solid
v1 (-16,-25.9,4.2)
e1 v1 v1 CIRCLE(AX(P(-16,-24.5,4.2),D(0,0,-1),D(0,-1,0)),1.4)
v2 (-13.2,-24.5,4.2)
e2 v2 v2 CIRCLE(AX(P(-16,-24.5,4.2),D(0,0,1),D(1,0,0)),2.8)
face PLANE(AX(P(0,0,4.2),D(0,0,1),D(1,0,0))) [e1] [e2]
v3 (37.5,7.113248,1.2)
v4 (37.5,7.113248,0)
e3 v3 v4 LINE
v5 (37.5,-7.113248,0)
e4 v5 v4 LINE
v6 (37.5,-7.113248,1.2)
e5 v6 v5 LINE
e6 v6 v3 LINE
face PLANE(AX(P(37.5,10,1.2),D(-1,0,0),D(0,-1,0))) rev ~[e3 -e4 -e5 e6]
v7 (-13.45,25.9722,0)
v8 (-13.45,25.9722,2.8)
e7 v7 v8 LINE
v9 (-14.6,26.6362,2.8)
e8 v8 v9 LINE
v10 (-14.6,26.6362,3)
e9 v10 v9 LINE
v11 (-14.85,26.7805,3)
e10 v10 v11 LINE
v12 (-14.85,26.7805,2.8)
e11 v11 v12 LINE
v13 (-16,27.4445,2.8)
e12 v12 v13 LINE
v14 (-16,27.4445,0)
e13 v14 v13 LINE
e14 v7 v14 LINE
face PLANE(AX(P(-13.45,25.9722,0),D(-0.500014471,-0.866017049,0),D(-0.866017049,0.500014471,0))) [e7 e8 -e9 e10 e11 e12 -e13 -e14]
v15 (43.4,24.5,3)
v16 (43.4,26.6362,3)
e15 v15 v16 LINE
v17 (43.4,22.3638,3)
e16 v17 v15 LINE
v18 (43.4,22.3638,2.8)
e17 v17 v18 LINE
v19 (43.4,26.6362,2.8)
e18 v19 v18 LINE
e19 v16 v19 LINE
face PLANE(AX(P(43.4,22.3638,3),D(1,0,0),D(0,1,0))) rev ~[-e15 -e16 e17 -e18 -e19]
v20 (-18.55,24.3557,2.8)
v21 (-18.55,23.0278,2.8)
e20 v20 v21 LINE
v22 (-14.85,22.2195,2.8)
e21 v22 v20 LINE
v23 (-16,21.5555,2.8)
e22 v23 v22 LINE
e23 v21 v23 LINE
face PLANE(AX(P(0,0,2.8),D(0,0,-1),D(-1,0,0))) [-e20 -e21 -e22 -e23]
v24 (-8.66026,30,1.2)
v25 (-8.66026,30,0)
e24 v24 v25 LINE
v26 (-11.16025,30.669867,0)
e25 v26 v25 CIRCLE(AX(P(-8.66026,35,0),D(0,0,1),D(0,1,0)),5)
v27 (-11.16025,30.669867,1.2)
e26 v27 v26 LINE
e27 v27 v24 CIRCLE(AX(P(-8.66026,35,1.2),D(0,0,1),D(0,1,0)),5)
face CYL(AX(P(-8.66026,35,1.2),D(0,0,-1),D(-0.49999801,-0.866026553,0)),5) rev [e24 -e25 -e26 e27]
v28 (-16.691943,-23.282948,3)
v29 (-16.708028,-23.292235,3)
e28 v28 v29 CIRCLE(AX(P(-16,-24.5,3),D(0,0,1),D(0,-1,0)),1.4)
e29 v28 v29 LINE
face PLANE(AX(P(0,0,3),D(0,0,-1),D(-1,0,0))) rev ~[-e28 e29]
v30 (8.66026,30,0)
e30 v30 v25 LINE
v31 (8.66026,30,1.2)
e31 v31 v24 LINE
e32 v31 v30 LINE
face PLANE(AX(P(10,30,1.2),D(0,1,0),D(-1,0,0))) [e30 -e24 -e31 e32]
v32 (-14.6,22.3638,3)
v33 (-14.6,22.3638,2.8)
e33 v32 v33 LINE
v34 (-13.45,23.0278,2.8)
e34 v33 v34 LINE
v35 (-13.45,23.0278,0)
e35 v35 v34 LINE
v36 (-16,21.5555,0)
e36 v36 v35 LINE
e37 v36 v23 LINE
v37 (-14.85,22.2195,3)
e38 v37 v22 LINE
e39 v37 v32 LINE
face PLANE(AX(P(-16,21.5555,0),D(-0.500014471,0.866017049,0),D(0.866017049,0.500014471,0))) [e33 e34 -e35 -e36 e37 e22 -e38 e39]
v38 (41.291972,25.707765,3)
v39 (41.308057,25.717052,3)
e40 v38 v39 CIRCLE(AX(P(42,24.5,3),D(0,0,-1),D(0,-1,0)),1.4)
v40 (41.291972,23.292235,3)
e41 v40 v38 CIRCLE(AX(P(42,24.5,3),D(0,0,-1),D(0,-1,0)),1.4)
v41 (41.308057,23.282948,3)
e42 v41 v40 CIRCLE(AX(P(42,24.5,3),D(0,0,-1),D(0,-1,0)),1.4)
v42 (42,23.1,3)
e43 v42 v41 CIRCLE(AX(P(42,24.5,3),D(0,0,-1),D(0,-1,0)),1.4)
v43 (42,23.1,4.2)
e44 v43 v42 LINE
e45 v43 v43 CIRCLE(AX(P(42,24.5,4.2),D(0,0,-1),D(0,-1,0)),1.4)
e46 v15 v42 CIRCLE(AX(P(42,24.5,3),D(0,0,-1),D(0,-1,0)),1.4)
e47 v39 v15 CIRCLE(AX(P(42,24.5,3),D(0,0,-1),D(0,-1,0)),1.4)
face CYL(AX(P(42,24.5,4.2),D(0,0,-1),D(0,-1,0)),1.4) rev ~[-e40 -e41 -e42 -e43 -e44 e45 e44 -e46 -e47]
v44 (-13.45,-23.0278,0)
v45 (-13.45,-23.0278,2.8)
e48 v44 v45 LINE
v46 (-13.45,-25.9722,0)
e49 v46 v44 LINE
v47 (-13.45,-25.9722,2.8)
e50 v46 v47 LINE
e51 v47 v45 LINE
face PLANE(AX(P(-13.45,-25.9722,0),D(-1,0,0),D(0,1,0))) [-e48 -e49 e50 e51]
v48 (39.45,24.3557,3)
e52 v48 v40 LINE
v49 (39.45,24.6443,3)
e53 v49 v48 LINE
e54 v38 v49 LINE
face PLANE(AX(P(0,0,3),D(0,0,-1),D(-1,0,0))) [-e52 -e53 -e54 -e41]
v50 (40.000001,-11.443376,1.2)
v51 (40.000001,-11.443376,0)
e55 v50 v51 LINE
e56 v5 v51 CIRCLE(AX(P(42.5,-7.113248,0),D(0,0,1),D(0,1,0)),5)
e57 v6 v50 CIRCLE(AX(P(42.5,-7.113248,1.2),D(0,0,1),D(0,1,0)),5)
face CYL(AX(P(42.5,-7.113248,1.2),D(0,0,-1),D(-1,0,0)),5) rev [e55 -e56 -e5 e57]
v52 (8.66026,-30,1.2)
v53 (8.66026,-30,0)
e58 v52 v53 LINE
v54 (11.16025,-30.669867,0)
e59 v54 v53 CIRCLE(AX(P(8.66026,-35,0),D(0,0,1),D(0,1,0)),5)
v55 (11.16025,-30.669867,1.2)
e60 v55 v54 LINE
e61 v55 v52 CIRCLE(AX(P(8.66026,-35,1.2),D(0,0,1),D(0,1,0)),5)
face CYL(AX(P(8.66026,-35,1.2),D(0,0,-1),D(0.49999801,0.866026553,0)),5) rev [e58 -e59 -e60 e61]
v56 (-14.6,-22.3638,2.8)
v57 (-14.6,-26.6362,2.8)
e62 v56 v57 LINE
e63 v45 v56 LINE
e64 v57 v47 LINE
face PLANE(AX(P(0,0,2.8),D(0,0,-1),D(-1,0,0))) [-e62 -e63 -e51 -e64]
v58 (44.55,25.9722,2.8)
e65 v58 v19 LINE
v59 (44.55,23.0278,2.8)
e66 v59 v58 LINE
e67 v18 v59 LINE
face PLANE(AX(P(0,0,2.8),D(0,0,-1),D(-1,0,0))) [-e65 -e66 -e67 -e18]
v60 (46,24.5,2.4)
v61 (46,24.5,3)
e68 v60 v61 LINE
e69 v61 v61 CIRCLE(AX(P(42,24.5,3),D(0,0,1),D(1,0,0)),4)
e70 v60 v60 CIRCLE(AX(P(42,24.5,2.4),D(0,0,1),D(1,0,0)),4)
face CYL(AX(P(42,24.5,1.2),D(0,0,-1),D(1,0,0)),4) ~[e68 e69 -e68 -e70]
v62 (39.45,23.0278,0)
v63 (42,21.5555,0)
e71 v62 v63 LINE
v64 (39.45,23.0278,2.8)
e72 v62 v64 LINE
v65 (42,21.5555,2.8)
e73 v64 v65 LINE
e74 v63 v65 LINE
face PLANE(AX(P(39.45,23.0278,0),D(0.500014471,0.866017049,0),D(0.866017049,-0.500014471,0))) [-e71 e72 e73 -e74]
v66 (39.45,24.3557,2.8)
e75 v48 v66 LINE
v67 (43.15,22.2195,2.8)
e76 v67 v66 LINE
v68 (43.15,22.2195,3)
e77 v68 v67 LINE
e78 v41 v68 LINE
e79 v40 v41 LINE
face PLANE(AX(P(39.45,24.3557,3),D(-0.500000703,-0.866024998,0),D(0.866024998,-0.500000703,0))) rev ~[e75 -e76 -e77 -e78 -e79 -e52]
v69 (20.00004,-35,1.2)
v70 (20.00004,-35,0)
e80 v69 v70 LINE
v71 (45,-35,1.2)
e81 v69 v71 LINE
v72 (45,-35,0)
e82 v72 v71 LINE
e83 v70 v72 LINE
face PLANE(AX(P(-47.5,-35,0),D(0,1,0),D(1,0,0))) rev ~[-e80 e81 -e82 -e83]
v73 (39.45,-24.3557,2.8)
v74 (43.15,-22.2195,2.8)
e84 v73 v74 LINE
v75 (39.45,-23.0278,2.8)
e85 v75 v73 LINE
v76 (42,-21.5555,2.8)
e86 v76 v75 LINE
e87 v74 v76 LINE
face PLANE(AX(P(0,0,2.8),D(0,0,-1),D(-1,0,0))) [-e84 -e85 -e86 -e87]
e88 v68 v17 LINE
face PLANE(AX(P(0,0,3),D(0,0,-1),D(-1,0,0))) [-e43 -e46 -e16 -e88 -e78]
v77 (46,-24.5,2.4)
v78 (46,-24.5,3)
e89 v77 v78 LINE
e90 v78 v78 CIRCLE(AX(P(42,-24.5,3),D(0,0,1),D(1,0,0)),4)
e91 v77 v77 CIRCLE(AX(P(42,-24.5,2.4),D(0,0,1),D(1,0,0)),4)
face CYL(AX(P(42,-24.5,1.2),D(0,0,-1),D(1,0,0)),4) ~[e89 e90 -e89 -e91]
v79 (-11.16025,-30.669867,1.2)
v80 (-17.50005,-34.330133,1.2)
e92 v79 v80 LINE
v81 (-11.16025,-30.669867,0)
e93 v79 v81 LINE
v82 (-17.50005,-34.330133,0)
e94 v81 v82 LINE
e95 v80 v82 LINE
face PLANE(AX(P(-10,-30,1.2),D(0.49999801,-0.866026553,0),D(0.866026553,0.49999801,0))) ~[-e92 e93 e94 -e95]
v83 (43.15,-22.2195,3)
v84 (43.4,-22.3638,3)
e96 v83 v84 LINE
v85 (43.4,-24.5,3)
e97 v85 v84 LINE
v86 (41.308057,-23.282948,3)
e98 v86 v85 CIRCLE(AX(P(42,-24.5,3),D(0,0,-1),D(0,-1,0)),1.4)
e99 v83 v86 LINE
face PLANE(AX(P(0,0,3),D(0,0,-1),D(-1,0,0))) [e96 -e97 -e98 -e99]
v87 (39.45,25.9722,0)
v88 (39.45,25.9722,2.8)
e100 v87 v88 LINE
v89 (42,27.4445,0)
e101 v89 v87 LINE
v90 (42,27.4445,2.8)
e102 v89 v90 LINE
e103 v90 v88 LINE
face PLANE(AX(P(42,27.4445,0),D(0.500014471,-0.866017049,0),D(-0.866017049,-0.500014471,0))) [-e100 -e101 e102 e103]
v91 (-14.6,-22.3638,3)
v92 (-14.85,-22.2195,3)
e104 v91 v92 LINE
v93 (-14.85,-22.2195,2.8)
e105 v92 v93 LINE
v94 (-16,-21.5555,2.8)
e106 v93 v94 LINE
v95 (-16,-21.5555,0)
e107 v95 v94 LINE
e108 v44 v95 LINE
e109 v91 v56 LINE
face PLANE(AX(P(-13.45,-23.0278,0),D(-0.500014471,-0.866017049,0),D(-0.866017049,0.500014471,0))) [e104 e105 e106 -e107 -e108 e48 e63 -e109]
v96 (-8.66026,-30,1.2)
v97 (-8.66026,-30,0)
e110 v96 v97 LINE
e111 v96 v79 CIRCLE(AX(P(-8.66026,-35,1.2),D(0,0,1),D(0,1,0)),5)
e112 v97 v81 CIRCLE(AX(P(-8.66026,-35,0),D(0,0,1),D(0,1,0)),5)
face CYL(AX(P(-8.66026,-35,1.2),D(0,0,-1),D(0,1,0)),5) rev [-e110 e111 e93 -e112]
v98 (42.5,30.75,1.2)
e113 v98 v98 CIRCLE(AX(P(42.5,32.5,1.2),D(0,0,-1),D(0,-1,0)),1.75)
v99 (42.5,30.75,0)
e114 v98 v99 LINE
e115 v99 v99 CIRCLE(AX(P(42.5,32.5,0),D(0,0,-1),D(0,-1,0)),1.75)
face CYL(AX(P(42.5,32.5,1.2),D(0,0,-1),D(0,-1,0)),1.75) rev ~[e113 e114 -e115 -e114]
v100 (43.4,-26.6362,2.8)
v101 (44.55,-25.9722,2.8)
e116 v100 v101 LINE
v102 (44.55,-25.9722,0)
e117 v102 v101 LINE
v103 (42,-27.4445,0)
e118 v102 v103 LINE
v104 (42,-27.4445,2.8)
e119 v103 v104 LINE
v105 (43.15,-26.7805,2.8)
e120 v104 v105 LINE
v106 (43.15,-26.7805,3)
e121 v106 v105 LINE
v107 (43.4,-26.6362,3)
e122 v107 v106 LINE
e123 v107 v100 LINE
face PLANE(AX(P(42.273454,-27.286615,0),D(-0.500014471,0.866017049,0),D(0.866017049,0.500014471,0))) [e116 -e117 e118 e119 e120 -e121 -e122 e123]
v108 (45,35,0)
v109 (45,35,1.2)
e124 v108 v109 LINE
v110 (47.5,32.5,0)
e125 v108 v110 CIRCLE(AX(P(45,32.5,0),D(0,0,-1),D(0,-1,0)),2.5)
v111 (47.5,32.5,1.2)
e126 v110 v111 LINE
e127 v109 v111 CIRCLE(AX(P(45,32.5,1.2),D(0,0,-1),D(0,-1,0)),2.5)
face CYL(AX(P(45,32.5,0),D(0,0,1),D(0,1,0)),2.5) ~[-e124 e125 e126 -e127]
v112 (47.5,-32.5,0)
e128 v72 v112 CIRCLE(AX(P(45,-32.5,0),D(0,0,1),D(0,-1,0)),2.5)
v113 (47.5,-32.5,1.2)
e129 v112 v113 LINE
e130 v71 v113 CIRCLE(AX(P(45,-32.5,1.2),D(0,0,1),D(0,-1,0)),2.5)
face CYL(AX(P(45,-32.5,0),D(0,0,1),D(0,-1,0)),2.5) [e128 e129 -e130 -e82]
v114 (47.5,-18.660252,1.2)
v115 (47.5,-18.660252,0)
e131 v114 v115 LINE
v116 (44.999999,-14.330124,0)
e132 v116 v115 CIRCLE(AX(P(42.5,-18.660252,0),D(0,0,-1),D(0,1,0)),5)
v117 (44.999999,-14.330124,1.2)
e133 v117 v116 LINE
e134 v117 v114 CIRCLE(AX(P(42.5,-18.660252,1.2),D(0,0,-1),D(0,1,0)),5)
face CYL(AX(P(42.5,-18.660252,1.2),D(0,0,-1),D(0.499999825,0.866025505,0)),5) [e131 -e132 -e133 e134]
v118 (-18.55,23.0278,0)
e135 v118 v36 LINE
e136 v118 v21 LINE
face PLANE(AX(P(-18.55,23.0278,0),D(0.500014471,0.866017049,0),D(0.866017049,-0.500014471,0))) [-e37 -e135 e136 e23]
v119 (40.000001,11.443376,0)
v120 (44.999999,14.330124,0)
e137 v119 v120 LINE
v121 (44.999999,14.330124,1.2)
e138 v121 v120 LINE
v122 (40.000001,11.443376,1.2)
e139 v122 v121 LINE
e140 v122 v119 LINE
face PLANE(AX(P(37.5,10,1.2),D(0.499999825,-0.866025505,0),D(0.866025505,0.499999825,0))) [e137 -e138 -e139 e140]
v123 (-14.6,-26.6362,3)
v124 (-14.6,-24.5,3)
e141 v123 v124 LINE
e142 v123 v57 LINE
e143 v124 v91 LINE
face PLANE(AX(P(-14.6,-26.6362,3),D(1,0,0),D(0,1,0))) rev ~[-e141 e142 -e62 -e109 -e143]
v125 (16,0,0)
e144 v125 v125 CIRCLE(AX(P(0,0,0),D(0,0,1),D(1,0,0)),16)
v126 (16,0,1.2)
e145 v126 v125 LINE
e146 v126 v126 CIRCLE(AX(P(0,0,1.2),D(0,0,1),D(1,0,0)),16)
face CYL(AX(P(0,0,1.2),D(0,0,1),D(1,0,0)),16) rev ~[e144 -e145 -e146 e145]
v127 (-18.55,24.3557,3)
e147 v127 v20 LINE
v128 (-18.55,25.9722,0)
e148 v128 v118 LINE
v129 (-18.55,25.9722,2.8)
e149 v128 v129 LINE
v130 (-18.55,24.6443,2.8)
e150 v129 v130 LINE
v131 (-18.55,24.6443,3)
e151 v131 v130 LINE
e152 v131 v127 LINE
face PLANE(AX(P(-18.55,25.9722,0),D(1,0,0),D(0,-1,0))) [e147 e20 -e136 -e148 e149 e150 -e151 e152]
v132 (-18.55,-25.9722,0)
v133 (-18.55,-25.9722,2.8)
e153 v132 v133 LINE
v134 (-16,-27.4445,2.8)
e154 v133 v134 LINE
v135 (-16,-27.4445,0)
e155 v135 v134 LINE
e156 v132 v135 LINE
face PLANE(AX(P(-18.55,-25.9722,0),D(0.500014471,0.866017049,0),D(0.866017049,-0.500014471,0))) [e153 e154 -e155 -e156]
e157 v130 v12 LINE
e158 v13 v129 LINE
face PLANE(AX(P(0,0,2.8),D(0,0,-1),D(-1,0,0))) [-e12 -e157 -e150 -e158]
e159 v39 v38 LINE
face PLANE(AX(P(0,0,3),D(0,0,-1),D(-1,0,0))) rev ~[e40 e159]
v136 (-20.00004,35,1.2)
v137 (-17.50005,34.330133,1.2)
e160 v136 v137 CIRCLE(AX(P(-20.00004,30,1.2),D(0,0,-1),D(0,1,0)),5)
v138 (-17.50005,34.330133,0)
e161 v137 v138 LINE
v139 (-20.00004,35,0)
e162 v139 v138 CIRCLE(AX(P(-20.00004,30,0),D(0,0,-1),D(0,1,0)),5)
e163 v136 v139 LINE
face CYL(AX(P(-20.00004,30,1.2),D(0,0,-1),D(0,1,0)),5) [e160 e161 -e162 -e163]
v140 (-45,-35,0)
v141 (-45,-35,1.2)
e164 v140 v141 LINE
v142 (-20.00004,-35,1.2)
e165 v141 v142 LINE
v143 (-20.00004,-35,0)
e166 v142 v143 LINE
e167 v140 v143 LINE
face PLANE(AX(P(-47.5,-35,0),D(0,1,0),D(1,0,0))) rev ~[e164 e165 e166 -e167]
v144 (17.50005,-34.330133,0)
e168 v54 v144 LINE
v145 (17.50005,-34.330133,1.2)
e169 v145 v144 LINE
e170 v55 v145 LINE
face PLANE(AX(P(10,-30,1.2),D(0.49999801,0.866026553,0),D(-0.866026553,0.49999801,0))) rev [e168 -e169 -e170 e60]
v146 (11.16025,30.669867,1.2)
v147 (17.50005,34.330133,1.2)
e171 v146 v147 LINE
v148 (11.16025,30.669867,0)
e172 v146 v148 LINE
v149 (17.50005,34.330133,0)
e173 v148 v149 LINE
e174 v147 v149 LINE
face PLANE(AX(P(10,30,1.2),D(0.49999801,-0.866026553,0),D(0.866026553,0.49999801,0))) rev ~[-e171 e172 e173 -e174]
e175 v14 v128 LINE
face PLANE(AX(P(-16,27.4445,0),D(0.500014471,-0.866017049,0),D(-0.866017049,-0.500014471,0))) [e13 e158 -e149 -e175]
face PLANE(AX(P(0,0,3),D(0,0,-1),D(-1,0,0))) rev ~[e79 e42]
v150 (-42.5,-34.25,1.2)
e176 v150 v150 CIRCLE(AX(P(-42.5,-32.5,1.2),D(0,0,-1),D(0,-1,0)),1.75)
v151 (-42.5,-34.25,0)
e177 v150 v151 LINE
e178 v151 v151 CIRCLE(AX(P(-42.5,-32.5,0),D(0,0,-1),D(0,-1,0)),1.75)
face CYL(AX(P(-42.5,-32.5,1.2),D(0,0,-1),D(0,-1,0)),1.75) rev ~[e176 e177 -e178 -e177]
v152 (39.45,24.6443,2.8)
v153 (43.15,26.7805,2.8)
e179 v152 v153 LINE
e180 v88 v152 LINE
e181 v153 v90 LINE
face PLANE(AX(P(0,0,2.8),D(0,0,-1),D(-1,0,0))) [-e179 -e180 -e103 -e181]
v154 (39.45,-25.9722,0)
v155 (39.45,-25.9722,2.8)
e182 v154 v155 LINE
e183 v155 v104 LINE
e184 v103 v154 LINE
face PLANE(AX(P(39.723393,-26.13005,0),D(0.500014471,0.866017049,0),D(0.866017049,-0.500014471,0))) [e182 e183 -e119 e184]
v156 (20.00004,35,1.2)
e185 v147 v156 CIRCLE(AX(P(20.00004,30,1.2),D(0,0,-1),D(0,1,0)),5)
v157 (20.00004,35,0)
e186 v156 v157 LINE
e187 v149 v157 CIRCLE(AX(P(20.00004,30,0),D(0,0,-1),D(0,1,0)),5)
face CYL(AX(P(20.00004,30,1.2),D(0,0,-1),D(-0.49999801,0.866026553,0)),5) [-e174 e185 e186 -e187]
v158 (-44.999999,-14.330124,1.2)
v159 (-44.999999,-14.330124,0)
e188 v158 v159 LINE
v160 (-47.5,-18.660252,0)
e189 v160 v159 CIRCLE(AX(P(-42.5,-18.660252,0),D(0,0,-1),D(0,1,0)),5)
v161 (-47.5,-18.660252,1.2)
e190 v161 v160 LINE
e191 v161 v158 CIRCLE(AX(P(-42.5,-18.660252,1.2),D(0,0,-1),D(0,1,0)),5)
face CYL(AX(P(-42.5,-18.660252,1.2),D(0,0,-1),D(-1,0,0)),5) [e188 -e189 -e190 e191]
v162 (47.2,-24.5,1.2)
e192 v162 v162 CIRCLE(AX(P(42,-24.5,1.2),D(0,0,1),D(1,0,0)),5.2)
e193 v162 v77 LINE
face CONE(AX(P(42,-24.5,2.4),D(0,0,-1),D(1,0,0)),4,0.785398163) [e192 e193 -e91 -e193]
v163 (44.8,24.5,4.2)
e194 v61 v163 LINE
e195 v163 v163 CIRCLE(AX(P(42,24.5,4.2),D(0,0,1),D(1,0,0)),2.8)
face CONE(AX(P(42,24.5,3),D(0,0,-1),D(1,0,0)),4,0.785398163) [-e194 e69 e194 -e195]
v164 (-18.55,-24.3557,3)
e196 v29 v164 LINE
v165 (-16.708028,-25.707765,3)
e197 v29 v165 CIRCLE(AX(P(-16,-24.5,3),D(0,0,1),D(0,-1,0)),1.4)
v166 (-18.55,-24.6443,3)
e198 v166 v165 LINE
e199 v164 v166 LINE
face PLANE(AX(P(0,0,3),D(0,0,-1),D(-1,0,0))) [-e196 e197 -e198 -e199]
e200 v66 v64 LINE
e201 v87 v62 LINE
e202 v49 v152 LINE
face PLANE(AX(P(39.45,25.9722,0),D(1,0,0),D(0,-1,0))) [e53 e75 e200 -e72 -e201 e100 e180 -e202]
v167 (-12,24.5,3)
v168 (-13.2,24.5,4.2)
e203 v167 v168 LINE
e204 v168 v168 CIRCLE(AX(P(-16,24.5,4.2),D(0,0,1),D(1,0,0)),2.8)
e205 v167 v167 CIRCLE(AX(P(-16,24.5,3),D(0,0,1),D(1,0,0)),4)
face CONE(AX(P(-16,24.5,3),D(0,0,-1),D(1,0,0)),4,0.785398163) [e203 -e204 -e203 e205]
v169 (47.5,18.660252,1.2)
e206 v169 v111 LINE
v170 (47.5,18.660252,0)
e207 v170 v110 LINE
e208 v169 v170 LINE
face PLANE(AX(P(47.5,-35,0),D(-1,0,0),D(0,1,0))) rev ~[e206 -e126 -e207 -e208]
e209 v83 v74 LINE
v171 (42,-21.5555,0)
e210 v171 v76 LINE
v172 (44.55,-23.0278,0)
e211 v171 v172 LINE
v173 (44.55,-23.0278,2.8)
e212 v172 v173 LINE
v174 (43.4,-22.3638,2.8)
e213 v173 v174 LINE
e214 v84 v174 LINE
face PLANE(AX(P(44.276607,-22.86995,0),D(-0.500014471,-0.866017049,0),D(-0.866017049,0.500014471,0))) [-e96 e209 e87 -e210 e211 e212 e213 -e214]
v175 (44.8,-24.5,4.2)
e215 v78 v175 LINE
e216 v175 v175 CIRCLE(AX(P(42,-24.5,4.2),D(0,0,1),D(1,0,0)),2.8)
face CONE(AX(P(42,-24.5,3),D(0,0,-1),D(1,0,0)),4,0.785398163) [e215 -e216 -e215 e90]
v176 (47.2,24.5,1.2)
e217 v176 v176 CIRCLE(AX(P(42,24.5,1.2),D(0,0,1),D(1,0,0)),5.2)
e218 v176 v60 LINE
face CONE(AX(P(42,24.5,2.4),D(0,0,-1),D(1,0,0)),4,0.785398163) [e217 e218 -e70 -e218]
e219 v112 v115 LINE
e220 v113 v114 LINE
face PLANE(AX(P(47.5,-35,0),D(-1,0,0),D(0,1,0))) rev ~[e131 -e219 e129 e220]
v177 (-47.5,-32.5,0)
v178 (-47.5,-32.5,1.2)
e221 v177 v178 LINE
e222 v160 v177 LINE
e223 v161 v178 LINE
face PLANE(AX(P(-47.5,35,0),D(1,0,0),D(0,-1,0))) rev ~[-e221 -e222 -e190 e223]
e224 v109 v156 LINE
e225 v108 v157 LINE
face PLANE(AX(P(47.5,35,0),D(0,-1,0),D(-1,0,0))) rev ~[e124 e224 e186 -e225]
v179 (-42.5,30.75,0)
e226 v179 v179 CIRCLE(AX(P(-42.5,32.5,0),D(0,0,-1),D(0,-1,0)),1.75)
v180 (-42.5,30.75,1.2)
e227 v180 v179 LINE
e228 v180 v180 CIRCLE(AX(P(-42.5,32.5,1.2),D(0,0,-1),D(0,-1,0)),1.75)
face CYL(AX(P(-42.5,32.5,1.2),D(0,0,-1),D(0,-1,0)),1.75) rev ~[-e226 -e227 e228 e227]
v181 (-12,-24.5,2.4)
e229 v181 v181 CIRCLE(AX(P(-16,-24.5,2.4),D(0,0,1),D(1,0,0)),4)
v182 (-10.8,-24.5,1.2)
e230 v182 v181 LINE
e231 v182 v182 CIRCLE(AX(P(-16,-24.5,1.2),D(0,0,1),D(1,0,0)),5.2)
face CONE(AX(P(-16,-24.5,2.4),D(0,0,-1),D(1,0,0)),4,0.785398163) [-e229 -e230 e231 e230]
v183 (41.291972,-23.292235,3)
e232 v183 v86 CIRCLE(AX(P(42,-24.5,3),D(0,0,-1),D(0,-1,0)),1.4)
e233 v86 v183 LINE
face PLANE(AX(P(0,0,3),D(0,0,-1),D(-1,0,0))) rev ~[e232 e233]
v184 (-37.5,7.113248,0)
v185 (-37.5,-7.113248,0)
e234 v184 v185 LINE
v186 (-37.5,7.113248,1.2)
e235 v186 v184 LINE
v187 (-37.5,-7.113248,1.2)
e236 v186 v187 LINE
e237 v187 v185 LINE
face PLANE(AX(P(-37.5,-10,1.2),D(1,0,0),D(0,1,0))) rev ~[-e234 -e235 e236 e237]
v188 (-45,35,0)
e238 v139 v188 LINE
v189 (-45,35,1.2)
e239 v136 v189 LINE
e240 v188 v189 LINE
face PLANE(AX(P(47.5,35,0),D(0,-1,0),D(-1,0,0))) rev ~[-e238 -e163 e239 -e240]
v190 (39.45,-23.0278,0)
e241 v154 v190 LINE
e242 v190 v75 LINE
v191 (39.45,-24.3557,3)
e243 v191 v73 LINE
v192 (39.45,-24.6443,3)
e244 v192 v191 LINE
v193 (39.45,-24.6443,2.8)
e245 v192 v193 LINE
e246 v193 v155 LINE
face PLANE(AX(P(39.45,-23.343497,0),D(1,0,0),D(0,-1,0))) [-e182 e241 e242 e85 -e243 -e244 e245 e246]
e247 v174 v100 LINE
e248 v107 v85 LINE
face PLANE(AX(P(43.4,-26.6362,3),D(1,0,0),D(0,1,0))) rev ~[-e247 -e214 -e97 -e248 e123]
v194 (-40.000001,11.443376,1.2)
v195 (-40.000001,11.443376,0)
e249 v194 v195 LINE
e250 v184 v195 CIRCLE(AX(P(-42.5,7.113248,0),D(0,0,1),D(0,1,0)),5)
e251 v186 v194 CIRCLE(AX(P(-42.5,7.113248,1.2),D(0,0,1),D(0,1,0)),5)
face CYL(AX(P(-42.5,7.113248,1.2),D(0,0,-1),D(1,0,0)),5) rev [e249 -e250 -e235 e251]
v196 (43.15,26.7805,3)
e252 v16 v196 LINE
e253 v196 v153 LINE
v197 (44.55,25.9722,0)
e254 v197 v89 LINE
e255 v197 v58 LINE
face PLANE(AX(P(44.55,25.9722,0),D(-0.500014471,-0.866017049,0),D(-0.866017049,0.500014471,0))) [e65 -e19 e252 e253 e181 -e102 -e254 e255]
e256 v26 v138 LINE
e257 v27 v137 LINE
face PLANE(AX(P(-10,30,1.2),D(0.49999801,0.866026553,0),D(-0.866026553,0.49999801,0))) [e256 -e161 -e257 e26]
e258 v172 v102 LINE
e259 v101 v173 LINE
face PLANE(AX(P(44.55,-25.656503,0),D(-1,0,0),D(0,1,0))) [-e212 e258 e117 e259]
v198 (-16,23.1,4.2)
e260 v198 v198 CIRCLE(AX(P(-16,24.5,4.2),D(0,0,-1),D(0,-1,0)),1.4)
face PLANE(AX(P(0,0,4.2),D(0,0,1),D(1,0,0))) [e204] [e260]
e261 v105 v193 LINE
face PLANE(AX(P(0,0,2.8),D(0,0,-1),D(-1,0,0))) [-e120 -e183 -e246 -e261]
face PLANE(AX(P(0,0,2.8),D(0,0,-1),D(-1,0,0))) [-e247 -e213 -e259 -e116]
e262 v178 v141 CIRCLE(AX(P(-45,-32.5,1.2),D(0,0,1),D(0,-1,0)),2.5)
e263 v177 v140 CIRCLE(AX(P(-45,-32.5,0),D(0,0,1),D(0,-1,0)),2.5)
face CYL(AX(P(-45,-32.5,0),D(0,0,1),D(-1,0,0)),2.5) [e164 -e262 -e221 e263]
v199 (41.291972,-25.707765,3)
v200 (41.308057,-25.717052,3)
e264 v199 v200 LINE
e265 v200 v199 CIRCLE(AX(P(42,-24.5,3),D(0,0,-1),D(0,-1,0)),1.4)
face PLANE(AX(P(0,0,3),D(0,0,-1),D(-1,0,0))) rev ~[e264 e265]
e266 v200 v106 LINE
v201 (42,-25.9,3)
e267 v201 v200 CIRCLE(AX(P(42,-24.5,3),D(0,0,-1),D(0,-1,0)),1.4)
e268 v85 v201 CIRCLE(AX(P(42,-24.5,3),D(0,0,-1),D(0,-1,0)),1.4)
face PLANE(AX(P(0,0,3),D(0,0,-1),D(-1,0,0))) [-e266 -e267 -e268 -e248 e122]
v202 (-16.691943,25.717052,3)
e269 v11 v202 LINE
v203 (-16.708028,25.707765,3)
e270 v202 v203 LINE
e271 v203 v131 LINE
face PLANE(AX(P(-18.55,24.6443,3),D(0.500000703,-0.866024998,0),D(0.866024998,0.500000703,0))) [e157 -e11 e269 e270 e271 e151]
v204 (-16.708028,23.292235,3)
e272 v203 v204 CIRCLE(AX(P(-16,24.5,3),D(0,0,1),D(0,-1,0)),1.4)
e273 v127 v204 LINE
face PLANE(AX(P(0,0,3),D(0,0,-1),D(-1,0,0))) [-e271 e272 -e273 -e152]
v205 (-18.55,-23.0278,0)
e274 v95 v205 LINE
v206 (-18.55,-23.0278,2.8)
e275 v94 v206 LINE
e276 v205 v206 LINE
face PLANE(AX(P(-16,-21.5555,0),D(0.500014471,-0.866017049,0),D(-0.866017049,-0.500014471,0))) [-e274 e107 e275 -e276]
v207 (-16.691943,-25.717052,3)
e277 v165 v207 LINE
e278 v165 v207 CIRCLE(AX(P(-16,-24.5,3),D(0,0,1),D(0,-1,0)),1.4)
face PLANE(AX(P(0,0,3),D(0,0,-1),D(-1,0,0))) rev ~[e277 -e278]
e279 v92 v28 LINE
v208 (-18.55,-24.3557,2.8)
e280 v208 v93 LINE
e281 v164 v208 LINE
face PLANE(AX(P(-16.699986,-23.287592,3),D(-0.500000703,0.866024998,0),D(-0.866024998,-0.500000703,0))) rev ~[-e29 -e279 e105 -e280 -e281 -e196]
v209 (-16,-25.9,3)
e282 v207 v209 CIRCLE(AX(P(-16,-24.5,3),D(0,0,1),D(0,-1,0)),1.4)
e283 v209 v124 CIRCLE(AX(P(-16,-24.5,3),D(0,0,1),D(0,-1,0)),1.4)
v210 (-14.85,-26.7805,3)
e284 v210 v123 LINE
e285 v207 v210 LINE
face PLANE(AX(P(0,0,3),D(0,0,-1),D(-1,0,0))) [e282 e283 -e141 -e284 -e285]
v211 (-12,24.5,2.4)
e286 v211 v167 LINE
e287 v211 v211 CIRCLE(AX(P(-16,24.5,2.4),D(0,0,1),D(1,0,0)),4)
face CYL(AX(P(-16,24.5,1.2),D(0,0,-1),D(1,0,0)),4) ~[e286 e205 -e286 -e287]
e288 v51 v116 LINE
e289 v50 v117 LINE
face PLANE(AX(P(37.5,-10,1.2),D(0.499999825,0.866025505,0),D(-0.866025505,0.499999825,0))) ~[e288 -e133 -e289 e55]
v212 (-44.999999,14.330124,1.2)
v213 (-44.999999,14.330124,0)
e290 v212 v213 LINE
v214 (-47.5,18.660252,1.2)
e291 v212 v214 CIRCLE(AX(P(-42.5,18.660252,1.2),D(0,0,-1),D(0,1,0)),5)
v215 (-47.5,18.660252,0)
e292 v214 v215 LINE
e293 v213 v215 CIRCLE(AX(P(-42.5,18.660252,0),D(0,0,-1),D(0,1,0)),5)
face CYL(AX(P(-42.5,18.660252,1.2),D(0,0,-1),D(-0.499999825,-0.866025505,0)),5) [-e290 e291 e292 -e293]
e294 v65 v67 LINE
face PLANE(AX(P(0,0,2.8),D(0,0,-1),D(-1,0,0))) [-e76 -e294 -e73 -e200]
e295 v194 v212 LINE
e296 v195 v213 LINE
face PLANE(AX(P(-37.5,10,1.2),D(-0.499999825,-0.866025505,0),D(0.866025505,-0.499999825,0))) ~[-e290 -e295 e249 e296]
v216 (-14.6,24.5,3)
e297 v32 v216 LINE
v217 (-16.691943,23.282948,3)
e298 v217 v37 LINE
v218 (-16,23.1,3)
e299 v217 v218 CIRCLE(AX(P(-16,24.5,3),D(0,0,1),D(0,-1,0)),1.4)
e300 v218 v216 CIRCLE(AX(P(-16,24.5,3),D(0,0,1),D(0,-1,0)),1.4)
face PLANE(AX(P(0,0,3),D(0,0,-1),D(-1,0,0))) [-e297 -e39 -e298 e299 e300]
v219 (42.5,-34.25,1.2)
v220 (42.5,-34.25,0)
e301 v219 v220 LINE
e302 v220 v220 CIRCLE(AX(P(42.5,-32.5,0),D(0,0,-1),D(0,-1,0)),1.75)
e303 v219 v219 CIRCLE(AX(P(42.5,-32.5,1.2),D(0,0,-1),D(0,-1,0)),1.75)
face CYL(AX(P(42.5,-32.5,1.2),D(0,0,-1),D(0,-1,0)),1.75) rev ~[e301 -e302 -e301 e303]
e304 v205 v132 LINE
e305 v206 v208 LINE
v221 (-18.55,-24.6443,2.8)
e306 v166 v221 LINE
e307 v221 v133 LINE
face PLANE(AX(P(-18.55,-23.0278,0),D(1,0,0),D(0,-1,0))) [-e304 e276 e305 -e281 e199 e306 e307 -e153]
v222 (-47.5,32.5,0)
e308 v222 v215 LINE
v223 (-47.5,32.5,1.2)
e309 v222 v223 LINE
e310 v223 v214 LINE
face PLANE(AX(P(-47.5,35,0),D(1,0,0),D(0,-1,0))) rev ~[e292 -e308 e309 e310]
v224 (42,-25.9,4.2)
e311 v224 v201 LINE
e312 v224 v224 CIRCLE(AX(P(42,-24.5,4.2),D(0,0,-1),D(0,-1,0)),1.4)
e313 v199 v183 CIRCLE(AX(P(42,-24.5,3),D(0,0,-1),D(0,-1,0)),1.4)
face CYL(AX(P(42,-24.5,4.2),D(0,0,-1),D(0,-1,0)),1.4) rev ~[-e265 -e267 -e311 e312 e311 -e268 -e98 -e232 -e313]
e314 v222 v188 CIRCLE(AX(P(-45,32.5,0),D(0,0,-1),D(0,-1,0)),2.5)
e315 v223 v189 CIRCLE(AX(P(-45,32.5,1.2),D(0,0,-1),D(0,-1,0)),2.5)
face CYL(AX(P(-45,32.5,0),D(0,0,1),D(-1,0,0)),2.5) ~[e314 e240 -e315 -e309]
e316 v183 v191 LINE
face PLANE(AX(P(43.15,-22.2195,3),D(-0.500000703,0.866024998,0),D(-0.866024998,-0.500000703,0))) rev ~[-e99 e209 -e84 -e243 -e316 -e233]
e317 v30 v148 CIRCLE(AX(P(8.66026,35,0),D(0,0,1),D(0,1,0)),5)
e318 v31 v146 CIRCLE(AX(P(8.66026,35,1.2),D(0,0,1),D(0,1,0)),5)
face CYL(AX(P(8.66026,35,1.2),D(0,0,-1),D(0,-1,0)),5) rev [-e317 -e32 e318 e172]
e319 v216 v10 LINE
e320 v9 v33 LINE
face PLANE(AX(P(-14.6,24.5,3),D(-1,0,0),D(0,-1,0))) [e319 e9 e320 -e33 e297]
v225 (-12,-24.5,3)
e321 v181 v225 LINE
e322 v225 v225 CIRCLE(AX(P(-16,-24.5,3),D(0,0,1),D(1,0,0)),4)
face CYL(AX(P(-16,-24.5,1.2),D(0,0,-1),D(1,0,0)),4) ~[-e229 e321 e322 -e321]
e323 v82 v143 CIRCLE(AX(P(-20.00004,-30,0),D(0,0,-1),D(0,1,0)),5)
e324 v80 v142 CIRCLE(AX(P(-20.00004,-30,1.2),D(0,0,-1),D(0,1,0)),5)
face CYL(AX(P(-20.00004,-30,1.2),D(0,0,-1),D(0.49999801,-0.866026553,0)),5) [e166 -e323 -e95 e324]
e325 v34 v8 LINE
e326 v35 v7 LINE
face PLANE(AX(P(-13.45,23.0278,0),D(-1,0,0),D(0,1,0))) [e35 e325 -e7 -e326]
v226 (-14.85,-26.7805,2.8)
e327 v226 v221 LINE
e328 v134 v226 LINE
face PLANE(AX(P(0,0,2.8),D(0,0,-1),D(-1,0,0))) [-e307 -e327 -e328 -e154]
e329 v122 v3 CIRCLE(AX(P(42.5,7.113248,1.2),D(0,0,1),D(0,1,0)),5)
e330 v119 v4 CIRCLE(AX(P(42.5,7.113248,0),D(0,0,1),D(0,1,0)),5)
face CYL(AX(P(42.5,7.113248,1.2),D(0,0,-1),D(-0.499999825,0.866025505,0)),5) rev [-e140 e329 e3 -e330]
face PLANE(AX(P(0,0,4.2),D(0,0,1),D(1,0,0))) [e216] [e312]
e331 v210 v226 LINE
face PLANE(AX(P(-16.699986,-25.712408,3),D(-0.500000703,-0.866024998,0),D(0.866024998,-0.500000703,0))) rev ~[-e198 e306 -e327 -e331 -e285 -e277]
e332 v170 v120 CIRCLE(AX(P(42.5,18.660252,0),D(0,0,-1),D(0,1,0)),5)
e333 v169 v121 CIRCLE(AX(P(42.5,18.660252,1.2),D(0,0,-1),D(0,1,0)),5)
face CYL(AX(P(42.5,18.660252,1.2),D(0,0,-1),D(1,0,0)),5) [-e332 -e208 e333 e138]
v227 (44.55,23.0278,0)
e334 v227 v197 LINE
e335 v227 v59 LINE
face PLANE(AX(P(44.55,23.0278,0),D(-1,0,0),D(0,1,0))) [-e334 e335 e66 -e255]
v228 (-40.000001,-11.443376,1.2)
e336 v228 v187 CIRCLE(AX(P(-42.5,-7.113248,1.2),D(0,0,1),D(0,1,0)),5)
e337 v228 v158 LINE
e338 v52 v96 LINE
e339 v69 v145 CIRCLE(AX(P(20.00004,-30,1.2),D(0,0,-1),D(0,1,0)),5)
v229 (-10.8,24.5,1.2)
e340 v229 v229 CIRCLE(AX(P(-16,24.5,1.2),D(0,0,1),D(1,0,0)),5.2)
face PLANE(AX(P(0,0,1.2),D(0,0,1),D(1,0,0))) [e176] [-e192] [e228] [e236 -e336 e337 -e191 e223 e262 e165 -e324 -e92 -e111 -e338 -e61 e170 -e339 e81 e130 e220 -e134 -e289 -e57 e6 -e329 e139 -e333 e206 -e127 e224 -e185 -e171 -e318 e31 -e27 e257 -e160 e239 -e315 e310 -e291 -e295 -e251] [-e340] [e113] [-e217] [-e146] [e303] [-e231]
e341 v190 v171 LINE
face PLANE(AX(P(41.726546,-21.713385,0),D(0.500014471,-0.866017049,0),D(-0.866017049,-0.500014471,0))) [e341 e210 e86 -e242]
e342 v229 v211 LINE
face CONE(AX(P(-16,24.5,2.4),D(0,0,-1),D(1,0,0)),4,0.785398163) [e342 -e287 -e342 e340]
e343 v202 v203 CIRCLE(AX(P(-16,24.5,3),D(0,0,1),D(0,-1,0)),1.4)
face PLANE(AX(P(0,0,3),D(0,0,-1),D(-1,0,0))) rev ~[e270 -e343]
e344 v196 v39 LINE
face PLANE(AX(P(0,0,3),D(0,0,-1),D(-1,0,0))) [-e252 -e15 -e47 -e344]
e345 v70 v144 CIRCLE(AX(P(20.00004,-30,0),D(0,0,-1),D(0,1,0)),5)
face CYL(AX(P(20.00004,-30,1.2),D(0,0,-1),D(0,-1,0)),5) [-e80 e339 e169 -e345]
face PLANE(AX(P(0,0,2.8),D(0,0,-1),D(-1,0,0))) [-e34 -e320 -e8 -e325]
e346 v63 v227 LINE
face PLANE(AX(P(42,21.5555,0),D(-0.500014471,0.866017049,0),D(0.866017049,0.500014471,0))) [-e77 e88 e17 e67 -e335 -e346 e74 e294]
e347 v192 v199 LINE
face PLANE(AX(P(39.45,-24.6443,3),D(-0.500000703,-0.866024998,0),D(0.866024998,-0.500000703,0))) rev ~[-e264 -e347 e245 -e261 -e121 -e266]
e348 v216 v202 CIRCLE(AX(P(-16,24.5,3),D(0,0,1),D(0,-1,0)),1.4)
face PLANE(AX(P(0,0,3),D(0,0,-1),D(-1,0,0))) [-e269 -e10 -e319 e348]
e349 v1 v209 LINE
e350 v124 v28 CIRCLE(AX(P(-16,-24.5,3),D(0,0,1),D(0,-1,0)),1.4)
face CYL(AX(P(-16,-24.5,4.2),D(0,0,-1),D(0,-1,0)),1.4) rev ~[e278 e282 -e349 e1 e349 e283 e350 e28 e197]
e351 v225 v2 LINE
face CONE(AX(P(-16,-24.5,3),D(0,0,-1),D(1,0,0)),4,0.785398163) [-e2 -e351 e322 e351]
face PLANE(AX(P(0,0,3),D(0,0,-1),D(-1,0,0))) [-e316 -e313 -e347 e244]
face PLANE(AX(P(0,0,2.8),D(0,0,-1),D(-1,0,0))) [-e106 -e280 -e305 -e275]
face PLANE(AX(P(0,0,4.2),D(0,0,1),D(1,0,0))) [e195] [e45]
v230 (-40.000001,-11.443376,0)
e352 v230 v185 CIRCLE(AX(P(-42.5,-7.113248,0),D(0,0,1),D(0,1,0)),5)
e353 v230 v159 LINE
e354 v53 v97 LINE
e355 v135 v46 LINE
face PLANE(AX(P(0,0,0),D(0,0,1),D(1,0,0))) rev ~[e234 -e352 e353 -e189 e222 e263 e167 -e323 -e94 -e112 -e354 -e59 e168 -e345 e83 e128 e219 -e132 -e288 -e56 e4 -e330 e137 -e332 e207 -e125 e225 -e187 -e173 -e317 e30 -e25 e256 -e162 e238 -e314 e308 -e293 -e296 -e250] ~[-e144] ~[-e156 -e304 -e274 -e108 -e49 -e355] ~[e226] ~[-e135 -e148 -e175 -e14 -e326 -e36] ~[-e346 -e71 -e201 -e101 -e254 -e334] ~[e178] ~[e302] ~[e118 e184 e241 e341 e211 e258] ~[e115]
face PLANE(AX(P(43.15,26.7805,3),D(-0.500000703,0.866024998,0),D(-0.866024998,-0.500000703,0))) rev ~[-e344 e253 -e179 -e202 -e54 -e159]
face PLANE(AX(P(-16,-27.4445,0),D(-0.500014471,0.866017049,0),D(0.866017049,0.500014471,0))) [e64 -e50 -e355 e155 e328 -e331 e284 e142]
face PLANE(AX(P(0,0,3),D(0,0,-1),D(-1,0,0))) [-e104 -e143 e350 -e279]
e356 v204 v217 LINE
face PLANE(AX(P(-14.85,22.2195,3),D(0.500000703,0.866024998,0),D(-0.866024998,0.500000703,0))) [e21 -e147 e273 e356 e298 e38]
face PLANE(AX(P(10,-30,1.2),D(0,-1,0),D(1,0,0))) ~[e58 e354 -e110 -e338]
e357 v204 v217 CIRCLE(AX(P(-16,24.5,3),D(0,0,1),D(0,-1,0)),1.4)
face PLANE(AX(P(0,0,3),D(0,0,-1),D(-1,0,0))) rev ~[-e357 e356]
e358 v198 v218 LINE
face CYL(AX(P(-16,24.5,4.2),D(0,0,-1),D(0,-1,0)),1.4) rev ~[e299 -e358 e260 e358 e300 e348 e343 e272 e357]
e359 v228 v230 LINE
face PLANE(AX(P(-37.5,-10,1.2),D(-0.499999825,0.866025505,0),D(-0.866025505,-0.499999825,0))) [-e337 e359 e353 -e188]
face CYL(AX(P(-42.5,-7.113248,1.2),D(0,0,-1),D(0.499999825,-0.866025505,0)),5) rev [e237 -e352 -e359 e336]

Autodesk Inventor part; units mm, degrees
ref_plane "YZ Plane" through (0, 0, 0) normal (1, 0, 0) x (0, 1, 0)
ref_plane "XZ Plane" through (0, 0, 0) normal (0, 1, 0) x (-1, 0, 0)
ref_plane "XY Plane" through (0, 0, 0) normal (0, 0, 1) x (1, 0, 0)
sketch "スケッチ1" plane through (0, 0, 0) normal (0, 0, 1) x (1, 0, 0)
  line L0 (-47.5, -35) -> (47.5, -35)
  line L1 (47.5, -35) -> (47.5, 35)
  line L2 (47.5, 35) -> (-47.5, 35)
  line L3 (-47.5, 35) -> (-47.5, -35)
  line L4 (-47.5, -35) -> (47.5, 35) construction
  line L5 (47.5, -35) -> (-47.5, 35) construction
  point P0 (0, 0)
  dimension "d0" = 95
  dimension "d1" = 70
extrude "押し出し1" add sketch "スケッチ1" along normal blind 1.2
sketch "スケッチ2" plane through (0, 0, 1.2) normal (0, 0, 1) x (1, 0, 0)
  line L0 (-42.5, -32.5) -> (42.5, -32.5) construction
  line L1 (42.5, -32.5) -> (42.5, 32.5) construction
  line L2 (42.5, 32.5) -> (-42.5, 32.5) construction
  line L3 (-42.5, 32.5) -> (-42.5, -32.5) construction
  line L4 (-42.5, -32.5) -> (42.5, 32.5) construction
  line L5 (42.5, -32.5) -> (-42.5, 32.5) construction
  point P0 (0, 0)
  dimension "d4" = 85
  dimension "d5" = 65
hole "穴1" at (-42.5, 32.5, 1.2) at (-42.5, -32.5, 1.2) at (42.5, -32.5, 1.2) at (42.5, 32.5, 1.2) direction (0, 0, -1) diameter 3.5 end through all
sketch "スケッチ3" plane through (0, 0, 1.2) normal (0, 0, 1) x (1, 0, 0)
  circle A0 centre (-16, -24.5) radius 4
  circle A1 centre (-16, 24.5) radius 4
  circle A2 centre (42, 24.5) radius 4
  circle A3 centre (42, -24.5) radius 4
  point P0 (0, 0)
  dimension "d13" = 8
  dimension "d14" = 8
  dimension "d15" = 8
  dimension "d16" = 8
  dimension "d17" = 49
  dimension "d21" = 58
  dimension "d22" = 24.5
  dimension "d52" = 16
extrude "押し出し2" add sketch "スケッチ3" along normal blind 3
chamfer "面取り1" distance 1.2 angle 45 8 edges at (-20, -24.5, 4.2) (-20, 24.5, 4.2) (38, 24.5, 4.2) (38, -24.5, 4.2) (-20, 24.5, 1.2) (-20, -24.5, 1.2) (38, 24.5, 1.2) (38, -24.5, 1.2)
sketch "スケッチ4" plane through (-16, -24.5, 4.2) normal (0, 0, 1) x (1, 0, 0)
  circle A0 centre (0, 49) radius 2.8 projected
  circle A1 centre (0, 0) radius 2.8 projected
  circle A2 centre (58, 0) radius 2.8 projected
  circle A3 centre (58, 49) radius 2.8 projected
  point P0 (16, 24.5)
hole "穴2" at (-16, 24.5, 4.2) at (-16, -24.5, 4.2) at (42, -24.5, 4.2) at (42, 24.5, 4.2) direction (0, 0, -1) diameter 2.8 end through all
sketch "スケッチ5" plane through (0, 0, 0) normal (0, 0, -1) x (-1, 0, 0)
  circle A0 centre (16, -24.5) radius 1.4 projected
  circle A1 centre (16, 24.5) radius 1.4 projected
  circle A2 centre (-42, 24.5) radius 1.4 projected
  circle A3 centre (-42, -24.5) radius 1.4 projected
  line L0 (16, -27.4445) -> (13.45, -25.9722)
  line L1 (13.45, -25.9722) -> (13.45, -23.0278)
  line L2 (13.45, -23.0278) -> (16, -21.5555)
  line L3 (16, -21.5555) -> (18.55, -23.0278)
  line L4 (18.55, -23.0278) -> (18.55, -25.9722)
  line L5 (18.55, -25.9722) -> (16, -27.4445)
  line L6 (16, 21.5555) -> (13.45, 23.0278)
  line L7 (13.45, 23.0278) -> (13.45, 25.9722)
  line L8 (13.45, 25.9722) -> (16, 27.4445)
  line L9 (16, 27.4445) -> (18.55, 25.9722)
  line L10 (18.55, 25.9722) -> (18.55, 23.0278)
  line L11 (18.55, 23.0278) -> (16, 21.5555)
  circle A4 centre (-42, -24.5) radius 2.8 projected
  line L12 (-42, -27.4445) -> (-44.55, -25.9722)
  line L13 (-44.55, -25.9722) -> (-44.55, -23.0278)
  line L14 (-44.55, -23.0278) -> (-42, -21.5555)
  line L15 (-42, -21.5555) -> (-39.45, -23.0278)
  line L16 (-39.45, -23.0278) -> (-39.45, -25.9722)
  line L17 (-39.45, -25.9722) -> (-42, -27.4445)
  line L18 (-42, 21.5555) -> (-44.55, 23.0278)
  line L19 (-44.55, 23.0278) -> (-44.55, 25.9722)
  line L20 (-44.55, 25.9722) -> (-42, 27.4445)
  line L21 (-42, 27.4445) -> (-39.45, 25.9722)
  line L22 (-39.45, 25.9722) -> (-39.45, 23.0278)
  line L23 (-39.45, 23.0278) -> (-42, 21.5555)
  point P0 (0, 0)
  dimension "d36" = 5.1
  dimension "d37" = 5.1
  dimension "d38" = 5.1
  dimension "d39" = 5.1
extrude "押し出し3" cut sketch "スケッチ5" against normal blind 3 contours A2 | A3 | L0 L1 L2 L3 L4 L5 | L6 L7 L8 L9 L10 L11 | L16 A4 L17 L12 L13 L14 L15 | A4 L15 L16 | L16 L17 A4 | A4 L14 L15 | L17 L12 A4 | A4 L13 L14 | L12 L13 A4 | L18 L19 L20 L21 L22 L23
sketch "スケッチ6" plane through (0, 0, 3) normal (0, 0, -1) x (-1, 0, 0)
  line L0 (18.55, -23.0278) -> (18.55, -25.9722) projected
  line L1 (16, -21.5555) -> (18.55, -23.0278) projected
  line L2 (13.45, -23.0278) -> (16, -21.5555) projected
  line L3 (13.45, -25.9722) -> (13.45, -23.0278) projected
  line L4 (16, -27.4445) -> (13.45, -25.9722) projected
  line L5 (18.55, -25.9722) -> (16, -27.4445) projected
  circle A0 centre (16, -24.5) radius 1.4 projected
  line L6 (18.55, 25.9722) -> (18.55, 23.0278) projected
  line L7 (16, 27.4445) -> (18.55, 25.9722) projected
  line L8 (13.45, 25.9722) -> (16, 27.4445) projected
  line L9 (13.45, 23.0278) -> (13.45, 25.9722) projected
  line L10 (16, 21.5555) -> (13.45, 23.0278) projected
  line L11 (18.55, 23.0278) -> (16, 21.5555) projected
  circle A1 centre (16, 24.5) radius 1.4 projected
  circle A2 centre (-42, 24.5) radius 1.4 projected
  line L12 (-39.45, 25.9722) -> (-39.45, 23.0278) projected
  line L13 (-42, 27.4445) -> (-39.45, 25.9722) projected
  line L14 (-44.55, 25.9722) -> (-42, 27.4445) projected
  line L15 (-44.55, 23.0278) -> (-44.55, 25.9722) projected
  line L16 (-42, 21.5555) -> (-44.55, 23.0278) projected
  line L17 (-39.45, 23.0278) -> (-42, 21.5555) projected
  circle A3 centre (-42, -24.5) radius 1.4 projected
  line L18 (-44.55, -25.9722) -> (-44.55, -23.0278) projected
  line L19 (-42, -27.4445) -> (-44.55, -25.9722) projected
  line L20 (-39.45, -25.9722) -> (-42, -27.4445) projected
  line L21 (-39.45, -23.0278) -> (-39.45, -25.9722) projected
  line L22 (-42, -21.5555) -> (-39.45, -23.0278) projected
  line L23 (-44.55, -23.0278) -> (-42, -21.5555) projected
  line L24 (18.55, -23.0278) -> (18.55, -25.9722) projected
  line L25 (18.55, -24.6443) -> (14.85, -26.7805)
  line L26 (14.6, -26.6362) -> (14.6, -22.3638)
  line L27 (14.85, -22.2195) -> (18.55, -24.3557)
  line L28 (18.55, -25.9722) -> (16, -27.4445) projected
  line L29 (16, -21.5555) -> (18.55, -23.0278) projected
  circle A4 centre (16, -24.5) radius 1.4 projected
  line L30 (13.45, 25.9722) -> (16, 27.4445) projected
  line L31 (14.6, 26.6362) -> (14.6, 22.3638)
  line L32 (14.85, 22.2195) -> (18.55, 24.3557)
  line L33 (18.55, 25.9722) -> (18.55, 23.0278) projected
  line L34 (18.55, 24.6443) -> (14.85, 26.7805)
  line L35 (18.55, 23.0278) -> (16, 21.5555) projected
  line L36 (16, 27.4445) -> (18.55, 25.9722) projected
  circle A5 centre (16, 24.5) radius 1.4 projected
  line L37 (-43.4, 22.3638) -> (-43.4, 26.6362)
  line L38 (-43.15, 26.7805) -> (-39.45, 24.6443)
  line L39 (-39.45, 25.9722) -> (-39.45, 23.0278) projected
  line L40 (-39.45, 24.3557) -> (-43.15, 22.2195)
  line L41 (-42, 27.4445) -> (-39.45, 25.9722) projected
  line L42 (-39.45, 23.0278) -> (-42, 21.5555) projected
  circle A6 centre (-42, 24.5) radius 1.4 projected
  line L43 (-39.45, -24.6443) -> (-43.15, -26.7805)
  line L44 (-43.4, -26.6362) -> (-43.4, -22.3638)
  line L45 (-43.15, -22.2195) -> (-39.45, -24.3557)
  line L46 (-39.45, -25.9722) -> (-42, -27.4445) projected
  line L47 (-42, -21.5555) -> (-39.45, -23.0278) projected
  circle A7 centre (-42, -24.5) radius 1.4 projected
  point P0 (0, 0)
  point P1 (-39.45, 24.3557)
  point P2 (18.55, 24.3557)
extrude "押し出し4" add sketch "スケッチ6" along normal blind 0.2 contours L0 L27 L2 L1 | L0 L5 L4 L25 | L26 L4 L3 L2 | L6 L34 L8 L7 | L6 L11 L10 L32 | L31 L10 L9 L8 | L38 L14 L13 L12 | L40 L12 L17 L16 | L37 L16 L15 L14 | L45 L23 L22 L21 | L43 L21 L20 L19 | L44 L19 L18 L23
fillet "フィレット1" radius 2.5 4 edges at (-47.5, -35, 0.6) (-47.5, 35, 0.6) (47.5, -35, 0.6) (47.5, 35, 0.6)
sketch "スケッチ7" plane through (0, 0, 1.2) normal (0, 0, 1) x (1, 0, 0)
  line L0 (45, 35) -> (-45, 35) projected
  line L1 (-10, 35) -> (10, 35)
  line L2 (10, 35) -> (10, 30)
  line L3 (10, 30) -> (-10, 30)
  line L4 (-10, 30) -> (-10, 35)
  line L5 (-10, 30) -> (-18.6603, 35)
  line L6 (10, 30) -> (18.6603, 35)
  line L7 (47.5, -32.5) -> (47.5, 32.5) projected
  line L8 (47.5, 10) -> (37.5, 10)
  line L9 (37.5, 10) -> (37.5, -10)
  line L10 (37.5, -10) -> (47.5, -10)
  line L11 (47.5, -10) -> (47.5, 10)
  line L12 (37.5, 10) -> (47.5, 15.7735)
  line L13 (47.5, -32.5) -> (47.5, 32.5) projected
  line L14 (47.5, 0) -> (37.5, 0)
  point P0 (0, 0)
  point P1 (0, 35)
  dimension "d45" = 20
  dimension "d46" = 5
  dimension "d47" = 30
  dimension "d48" = 30
  dimension "d53" = 20
  dimension "d54" = 10
extrude "押し出し5" cut sketch "スケッチ7" against normal through all contours L6 L2 L0 | L2 L3 L4 L0 | L4 L5 L0 | L14 L9 L8 L7 | L8 L12 L7
mirror "ミラー1" about plane through (0, 0, 0) normal (0, 1, 0) of "押し出し5"
mirror "ミラー2" about plane through (0, 0, 0) normal (1, 0, 0) of "押し出し5", "ミラー1"
fillet "フィレット2" radius 5 16 edges at (-18.6603, -35, 0.6) (-10, -30, 0.6) (10, -30, 0.6) (18.6603, -35, 0.6) (10, 30, 0.6) (-10, 30, 0.6) (-18.6603, 35, 0.6) (18.6603, 35, 0.6) (-47.5, -15.7735, 0.6) (-37.5, -10, 0.6) (-37.5, 10, 0.6) (-47.5, 15.7735, 0.6) (47.5, -15.7735, 0.6) (37.5, -10, 0.6) (37.5, 10, 0.6) (47.5, 15.7735, 0.6)
sketch "スケッチ8" plane through (0, 0, 1.2) normal (0, 0, 1) x (1, 0, 0)
  circle A0 centre (0, 0) radius 16
  dimension "d55" = 32
extrude "押し出し6" cut sketch "スケッチ8" against normal through all
equation "\"d22\" = 0.5 * d17"
equation "\"d37\" = d36"
equation "\"d38\" = d36"
equation "\"d39\" = d36"
equation "\"d48\" = d47"
properties part number "3D_circuit-fix_raspberrypi_3D プリント"
